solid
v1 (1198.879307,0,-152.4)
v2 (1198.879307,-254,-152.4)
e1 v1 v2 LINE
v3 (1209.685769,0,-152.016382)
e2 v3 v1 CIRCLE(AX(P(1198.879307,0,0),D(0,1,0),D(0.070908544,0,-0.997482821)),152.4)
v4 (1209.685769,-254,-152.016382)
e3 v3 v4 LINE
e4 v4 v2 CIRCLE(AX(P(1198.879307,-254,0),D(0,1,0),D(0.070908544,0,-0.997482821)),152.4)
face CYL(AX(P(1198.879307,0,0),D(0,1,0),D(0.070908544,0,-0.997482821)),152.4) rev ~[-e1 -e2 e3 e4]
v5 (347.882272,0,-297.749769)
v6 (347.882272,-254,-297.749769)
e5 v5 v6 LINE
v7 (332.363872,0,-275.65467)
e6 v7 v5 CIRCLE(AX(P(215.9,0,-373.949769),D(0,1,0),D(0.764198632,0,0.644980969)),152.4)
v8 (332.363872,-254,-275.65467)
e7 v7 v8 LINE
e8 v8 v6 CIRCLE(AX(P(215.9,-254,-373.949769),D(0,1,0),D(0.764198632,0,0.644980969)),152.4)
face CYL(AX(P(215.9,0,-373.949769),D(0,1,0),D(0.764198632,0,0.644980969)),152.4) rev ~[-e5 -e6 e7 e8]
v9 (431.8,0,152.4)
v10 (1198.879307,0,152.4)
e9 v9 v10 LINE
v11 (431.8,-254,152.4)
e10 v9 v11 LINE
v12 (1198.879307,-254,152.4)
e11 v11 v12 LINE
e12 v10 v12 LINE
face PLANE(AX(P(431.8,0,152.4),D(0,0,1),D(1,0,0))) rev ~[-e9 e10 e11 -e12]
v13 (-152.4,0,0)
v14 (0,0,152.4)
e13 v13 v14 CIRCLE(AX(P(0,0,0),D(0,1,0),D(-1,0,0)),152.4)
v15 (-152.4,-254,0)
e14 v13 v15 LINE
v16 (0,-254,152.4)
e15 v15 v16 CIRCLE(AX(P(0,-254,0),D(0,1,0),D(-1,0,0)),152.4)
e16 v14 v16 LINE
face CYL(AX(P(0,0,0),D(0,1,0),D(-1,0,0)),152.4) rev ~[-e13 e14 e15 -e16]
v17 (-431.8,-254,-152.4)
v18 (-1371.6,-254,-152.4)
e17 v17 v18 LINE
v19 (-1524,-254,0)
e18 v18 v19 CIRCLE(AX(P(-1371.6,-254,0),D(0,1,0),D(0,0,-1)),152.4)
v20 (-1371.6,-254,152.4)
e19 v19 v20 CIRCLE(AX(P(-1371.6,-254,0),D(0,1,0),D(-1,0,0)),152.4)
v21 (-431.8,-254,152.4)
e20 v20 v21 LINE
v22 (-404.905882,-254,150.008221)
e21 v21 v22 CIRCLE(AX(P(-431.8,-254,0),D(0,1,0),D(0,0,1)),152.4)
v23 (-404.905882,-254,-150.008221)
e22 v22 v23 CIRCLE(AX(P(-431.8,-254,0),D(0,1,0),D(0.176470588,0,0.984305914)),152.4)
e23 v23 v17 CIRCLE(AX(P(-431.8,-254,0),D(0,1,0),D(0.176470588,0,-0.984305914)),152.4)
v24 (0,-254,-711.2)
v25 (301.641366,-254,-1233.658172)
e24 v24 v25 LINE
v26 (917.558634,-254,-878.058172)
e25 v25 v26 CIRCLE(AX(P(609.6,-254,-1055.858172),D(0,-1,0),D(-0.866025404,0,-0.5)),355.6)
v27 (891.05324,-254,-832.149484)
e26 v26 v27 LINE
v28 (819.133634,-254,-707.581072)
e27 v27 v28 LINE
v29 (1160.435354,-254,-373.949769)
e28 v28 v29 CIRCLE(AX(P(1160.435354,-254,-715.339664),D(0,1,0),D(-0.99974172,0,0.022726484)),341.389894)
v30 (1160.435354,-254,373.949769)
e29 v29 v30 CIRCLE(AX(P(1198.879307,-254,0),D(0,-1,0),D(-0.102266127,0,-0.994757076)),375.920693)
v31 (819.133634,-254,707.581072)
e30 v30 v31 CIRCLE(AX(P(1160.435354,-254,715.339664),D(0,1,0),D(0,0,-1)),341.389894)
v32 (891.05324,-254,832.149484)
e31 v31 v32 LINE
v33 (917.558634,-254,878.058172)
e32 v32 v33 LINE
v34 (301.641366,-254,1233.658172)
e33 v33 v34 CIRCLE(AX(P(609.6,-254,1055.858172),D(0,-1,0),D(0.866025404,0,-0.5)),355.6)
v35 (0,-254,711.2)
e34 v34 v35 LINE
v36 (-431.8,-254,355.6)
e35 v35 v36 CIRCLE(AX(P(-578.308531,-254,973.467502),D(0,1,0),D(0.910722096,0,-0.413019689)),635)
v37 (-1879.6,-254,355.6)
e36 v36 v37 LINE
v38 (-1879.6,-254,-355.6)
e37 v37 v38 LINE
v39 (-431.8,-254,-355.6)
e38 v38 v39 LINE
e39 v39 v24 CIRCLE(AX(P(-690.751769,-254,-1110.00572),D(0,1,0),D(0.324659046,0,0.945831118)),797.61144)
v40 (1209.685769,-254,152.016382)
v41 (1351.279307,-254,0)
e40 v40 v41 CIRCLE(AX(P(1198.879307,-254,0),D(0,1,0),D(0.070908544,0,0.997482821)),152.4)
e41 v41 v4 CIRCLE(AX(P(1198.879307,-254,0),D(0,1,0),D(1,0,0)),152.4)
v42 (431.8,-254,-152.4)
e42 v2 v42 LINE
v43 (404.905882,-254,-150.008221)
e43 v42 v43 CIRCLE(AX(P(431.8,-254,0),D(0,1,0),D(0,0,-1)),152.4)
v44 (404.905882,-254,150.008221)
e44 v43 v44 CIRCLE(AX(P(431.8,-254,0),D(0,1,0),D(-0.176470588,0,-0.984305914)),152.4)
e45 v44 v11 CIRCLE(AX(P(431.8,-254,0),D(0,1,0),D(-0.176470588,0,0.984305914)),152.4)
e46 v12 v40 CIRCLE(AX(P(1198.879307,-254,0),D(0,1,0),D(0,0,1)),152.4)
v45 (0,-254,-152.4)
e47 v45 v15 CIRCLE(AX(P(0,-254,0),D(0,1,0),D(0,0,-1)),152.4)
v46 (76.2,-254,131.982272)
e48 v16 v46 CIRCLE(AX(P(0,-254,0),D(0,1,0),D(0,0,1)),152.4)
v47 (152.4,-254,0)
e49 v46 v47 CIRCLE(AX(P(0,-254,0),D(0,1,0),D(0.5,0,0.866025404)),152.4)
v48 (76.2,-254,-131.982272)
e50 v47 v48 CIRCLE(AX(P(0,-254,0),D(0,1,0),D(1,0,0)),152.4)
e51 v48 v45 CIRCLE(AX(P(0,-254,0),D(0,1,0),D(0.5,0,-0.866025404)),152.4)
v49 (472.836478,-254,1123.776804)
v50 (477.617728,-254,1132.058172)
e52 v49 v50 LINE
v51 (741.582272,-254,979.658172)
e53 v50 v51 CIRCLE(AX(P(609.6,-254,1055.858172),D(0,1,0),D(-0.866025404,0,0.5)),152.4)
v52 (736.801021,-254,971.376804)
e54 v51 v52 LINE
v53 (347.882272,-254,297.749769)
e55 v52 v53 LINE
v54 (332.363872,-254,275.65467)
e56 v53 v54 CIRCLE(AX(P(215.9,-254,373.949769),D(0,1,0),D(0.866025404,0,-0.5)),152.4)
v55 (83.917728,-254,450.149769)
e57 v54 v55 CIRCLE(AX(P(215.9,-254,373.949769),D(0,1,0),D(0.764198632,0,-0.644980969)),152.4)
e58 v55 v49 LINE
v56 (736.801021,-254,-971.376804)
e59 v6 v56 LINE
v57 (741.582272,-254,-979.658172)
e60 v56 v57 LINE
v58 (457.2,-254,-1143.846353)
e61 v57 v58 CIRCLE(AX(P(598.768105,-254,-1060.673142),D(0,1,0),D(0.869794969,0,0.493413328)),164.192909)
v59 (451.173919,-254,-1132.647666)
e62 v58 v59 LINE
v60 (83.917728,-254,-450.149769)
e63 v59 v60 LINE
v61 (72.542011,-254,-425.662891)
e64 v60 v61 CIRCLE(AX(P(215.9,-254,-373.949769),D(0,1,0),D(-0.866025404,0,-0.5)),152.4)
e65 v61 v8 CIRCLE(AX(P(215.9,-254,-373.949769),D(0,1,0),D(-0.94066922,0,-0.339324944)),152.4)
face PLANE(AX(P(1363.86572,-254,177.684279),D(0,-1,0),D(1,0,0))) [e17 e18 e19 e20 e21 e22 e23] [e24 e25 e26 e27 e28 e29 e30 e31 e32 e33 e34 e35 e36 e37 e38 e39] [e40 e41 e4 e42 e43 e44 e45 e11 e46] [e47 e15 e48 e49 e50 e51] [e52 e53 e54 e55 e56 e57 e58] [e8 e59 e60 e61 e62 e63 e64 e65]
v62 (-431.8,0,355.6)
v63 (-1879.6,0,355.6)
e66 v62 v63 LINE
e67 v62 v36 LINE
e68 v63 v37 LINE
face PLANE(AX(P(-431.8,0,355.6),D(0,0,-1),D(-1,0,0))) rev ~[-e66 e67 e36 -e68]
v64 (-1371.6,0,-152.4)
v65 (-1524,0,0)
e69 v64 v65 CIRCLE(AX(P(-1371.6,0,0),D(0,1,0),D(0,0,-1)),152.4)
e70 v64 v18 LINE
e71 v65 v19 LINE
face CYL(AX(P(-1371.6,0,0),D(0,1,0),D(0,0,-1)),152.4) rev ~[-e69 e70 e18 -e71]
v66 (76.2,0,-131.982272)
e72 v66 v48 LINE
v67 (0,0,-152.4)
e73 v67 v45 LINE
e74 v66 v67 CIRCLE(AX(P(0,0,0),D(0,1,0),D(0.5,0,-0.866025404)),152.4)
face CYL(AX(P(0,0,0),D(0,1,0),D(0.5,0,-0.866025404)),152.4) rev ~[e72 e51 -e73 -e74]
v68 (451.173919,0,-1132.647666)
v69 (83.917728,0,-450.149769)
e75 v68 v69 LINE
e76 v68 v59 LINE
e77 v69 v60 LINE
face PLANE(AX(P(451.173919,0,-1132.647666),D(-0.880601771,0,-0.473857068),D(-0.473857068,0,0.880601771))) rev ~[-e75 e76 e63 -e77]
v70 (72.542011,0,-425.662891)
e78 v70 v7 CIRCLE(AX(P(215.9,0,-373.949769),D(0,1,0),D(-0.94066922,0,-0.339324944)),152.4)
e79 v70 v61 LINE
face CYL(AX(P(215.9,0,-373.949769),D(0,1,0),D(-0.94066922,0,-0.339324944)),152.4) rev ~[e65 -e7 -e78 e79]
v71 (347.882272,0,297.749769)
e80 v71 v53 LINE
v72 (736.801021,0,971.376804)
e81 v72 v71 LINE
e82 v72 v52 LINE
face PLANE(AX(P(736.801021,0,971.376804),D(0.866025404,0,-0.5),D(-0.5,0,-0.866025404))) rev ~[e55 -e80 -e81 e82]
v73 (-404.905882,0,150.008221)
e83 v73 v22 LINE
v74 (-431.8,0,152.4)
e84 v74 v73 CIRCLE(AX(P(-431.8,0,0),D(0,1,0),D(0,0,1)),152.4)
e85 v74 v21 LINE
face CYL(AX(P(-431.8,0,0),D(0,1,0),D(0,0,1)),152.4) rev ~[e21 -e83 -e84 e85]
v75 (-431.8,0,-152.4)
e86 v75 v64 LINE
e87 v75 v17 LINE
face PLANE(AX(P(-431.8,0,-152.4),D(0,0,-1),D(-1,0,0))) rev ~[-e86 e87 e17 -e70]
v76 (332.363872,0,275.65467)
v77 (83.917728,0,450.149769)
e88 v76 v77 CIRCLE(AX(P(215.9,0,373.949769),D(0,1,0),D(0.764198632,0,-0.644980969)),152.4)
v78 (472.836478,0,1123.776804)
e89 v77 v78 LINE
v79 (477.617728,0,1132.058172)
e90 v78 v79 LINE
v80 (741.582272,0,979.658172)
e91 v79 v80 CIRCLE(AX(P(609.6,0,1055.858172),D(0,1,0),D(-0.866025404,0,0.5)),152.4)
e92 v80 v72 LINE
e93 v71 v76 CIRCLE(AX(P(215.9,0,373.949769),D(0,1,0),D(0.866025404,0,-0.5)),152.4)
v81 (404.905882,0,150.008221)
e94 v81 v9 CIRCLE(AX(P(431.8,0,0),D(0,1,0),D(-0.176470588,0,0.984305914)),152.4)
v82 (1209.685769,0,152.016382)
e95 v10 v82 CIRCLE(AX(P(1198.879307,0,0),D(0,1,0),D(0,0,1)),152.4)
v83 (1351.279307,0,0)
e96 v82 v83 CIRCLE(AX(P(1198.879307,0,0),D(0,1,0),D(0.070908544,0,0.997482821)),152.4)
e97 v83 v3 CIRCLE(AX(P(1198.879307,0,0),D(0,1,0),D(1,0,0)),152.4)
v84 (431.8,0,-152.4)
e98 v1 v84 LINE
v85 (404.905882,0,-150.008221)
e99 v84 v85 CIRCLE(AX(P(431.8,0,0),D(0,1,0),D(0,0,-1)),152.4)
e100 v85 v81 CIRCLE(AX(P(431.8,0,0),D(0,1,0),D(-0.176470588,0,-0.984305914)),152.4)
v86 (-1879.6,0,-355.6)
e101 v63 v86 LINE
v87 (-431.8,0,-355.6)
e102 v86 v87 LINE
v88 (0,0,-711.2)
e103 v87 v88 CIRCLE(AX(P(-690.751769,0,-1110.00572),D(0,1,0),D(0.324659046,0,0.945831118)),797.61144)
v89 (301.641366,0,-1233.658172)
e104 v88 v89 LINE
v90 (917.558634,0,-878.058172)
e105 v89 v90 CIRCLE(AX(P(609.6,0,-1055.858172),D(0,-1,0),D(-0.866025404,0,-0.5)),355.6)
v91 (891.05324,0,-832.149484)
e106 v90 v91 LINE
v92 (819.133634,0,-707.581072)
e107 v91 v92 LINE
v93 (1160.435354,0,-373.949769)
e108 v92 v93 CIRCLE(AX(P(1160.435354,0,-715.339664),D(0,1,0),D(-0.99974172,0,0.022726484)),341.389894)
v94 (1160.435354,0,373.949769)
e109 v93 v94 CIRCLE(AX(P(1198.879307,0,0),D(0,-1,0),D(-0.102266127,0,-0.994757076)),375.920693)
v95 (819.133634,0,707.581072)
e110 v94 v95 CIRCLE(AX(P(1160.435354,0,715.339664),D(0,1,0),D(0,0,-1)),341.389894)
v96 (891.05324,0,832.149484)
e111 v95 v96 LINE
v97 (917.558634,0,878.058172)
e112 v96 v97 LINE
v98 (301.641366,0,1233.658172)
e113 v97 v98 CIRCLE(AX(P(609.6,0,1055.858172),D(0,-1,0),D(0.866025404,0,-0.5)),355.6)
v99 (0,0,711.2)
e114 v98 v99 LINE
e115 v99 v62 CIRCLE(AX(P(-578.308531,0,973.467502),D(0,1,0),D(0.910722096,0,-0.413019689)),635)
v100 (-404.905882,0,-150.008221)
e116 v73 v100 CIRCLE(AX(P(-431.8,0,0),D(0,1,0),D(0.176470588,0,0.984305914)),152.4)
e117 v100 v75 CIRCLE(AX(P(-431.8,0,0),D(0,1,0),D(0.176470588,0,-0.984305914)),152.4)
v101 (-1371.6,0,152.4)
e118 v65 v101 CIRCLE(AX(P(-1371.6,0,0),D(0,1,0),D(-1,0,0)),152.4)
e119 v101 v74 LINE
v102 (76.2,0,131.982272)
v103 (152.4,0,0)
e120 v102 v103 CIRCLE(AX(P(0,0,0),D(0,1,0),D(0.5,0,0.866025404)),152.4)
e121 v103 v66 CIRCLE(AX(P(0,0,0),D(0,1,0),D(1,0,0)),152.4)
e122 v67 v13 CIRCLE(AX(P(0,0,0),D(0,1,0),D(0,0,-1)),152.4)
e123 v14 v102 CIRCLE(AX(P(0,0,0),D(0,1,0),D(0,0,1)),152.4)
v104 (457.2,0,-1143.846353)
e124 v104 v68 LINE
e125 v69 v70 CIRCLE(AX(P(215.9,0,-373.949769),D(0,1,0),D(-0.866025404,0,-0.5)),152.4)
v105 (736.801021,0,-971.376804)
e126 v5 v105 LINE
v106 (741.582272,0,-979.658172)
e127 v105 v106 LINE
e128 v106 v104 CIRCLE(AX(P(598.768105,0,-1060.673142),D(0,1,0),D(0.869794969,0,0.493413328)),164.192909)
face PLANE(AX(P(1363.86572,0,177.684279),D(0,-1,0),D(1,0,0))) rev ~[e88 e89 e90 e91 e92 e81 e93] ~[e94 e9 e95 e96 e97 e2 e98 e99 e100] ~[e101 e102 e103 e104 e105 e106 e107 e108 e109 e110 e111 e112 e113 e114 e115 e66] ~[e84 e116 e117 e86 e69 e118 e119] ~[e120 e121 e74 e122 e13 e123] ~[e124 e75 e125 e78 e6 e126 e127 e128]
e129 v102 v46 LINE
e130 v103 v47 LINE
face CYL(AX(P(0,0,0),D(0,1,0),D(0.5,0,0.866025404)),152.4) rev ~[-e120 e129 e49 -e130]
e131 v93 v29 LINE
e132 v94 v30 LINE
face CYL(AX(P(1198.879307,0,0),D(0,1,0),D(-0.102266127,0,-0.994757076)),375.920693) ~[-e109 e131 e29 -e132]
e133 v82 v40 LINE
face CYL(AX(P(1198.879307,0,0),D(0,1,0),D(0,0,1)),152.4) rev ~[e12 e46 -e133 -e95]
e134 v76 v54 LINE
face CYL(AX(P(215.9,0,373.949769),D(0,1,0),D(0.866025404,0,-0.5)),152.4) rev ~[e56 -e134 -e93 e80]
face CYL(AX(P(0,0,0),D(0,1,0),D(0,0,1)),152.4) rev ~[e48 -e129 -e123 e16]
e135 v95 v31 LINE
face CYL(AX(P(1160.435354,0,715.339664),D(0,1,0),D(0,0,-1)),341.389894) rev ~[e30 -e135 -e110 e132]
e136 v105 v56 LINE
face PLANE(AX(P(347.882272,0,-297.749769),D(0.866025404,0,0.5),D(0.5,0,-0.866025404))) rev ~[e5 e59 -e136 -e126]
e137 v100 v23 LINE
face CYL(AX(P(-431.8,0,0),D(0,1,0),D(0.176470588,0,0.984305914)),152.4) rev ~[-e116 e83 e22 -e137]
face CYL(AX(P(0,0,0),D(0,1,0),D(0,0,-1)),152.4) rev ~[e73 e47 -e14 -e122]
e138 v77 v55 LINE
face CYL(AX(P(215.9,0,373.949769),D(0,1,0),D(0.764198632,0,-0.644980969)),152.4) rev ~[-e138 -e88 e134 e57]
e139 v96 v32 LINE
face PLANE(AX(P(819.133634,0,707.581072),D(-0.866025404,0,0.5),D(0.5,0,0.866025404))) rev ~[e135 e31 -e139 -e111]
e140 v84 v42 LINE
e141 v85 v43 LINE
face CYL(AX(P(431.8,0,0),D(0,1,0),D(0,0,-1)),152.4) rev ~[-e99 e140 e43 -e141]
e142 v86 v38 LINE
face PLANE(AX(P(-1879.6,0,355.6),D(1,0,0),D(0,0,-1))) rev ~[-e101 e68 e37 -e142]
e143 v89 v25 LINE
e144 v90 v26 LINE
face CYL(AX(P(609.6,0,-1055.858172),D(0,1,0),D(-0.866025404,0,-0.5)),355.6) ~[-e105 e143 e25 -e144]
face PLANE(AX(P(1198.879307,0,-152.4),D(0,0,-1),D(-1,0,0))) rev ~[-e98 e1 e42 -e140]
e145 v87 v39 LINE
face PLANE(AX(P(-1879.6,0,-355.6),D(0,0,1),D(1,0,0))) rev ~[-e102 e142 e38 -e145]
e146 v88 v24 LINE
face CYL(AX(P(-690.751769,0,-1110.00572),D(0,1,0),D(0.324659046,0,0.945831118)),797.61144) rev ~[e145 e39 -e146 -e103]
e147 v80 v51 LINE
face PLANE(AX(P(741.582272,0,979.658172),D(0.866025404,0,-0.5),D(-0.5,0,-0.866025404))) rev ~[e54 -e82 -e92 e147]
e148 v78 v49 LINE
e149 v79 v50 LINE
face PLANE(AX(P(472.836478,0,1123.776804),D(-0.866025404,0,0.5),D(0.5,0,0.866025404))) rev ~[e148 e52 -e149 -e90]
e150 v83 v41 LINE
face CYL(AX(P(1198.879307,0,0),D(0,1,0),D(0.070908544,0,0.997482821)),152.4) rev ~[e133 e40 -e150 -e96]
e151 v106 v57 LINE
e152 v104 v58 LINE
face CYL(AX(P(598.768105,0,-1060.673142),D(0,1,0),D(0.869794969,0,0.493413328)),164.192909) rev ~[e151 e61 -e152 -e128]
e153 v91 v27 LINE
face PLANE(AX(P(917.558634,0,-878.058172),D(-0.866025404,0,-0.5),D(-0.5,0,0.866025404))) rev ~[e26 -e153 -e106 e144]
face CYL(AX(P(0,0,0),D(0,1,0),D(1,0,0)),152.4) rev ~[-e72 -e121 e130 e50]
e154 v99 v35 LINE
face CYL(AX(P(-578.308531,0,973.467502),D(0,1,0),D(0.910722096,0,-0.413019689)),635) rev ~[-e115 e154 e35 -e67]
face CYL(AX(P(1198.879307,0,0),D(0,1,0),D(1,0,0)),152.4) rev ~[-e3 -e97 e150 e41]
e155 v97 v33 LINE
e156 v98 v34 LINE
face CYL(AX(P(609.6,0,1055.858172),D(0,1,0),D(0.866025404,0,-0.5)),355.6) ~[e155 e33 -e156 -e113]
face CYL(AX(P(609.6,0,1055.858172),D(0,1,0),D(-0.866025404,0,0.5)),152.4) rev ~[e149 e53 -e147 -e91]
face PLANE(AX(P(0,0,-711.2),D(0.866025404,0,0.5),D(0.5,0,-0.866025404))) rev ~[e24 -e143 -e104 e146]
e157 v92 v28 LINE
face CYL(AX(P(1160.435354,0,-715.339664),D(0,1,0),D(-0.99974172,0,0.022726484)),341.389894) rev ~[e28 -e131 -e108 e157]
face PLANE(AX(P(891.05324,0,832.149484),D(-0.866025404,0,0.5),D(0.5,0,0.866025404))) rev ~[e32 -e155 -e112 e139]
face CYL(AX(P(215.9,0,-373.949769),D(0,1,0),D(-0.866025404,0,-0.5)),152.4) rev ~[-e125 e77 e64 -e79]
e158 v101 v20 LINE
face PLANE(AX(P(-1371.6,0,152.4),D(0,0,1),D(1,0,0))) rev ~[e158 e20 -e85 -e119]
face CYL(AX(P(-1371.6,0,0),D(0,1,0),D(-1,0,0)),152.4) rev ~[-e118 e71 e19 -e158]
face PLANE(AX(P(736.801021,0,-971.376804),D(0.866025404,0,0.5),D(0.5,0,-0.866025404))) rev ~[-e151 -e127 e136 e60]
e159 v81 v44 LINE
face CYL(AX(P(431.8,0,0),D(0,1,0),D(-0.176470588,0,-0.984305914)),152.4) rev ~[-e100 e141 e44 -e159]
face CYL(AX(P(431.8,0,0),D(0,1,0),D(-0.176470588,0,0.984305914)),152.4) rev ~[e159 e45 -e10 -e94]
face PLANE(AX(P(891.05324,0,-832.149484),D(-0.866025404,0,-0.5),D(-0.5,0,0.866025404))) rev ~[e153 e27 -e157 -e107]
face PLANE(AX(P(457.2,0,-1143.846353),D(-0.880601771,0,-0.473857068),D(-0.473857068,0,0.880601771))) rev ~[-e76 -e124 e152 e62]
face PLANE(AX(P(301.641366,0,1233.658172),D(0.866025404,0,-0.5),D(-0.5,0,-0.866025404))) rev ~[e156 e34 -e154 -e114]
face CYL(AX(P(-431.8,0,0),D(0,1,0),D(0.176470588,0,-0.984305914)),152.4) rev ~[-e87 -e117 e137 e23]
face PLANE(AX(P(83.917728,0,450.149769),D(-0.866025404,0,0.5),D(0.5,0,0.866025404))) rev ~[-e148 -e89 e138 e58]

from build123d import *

# Parameters (mm, degrees)
F1_DEPTH = 254


with BuildPart() as f1:
    # F0 (on Front) → F1 (new body)
    with BuildSketch(Plane.XZ):
        with BuildLine():
            ThreePointArc((1160.4353536497, 373.9497693541), (1190.2445719567, 264.1334869485), (1209.6857689596, 152.0163819353))
            ThreePointArc((1209.6857689596, 152.0163819353), (1310.3976121316, 103.8721694551), (1351.2793068509, 0))
            Line((1351.2793068509, 0), (1574.8, 0))
            ThreePointArc((1574.8, 0), (1450.736895582, 279.0772698309), (1160.4353536497, 373.9497693541))
        make_face()
        with BuildLine():
            ThreePointArc((736.8010212461, 971.3768038669), (816.8986691145, 905.0553598532), (891.0532399748, 832.1494838852))
            Line((891.0532399748, 832.1494838852), (917.5586335857, 878.058172294))
            Line((917.5586335857, 878.058172294), (741.5822715367, 979.658172294))
            Line((741.5822715367, 979.658172294), (736.8010212461, 971.3768038669))
        make_face()
        with BuildLine():
            Line((477.6177284633, 1132.058172294), (301.6413664143, 1233.658172294))
            Line((301.6413664143, 1233.658172294), (275.1359728033, 1187.7494838852))
            ThreePointArc((275.1359728033, 1187.7494838852), (375.3515989068, 1159.9826796975), (472.8364781726, 1123.7768038669))
            Line((472.8364781726, 1123.7768038669), (477.6177284633, 1132.058172294))
        make_face()
        with BuildLine():
            Line((275.1359728033, -1187.7494838852), (301.6413664143, -1233.658172294))
            Line((301.6413664143, -1233.658172294), (457.2, -1143.8463533185))
            Line((457.2, -1143.8463533185), (451.1739193379, -1132.647665653))
            ThreePointArc((451.1739193379, -1132.647665653), (364.1985275213, -1163.5325833647), (275.1359728033, -1187.7494838852))
        make_face()
        with BuildLine():
            Line((917.5586335857, -878.058172294), (891.0532399748, -832.1494838852))
            ThreePointArc((891.0532399748, -832.1494838852), (816.8986691145, -905.0553598532), (736.8010212461, -971.3768038669))
            Line((736.8010212461, -971.3768038669), (741.5822715367, -979.658172294))
            Line((741.5822715367, -979.658172294), (917.5586335857, -878.058172294))
        make_face()
        with BuildLine():
            ThreePointArc((1351.2793068509, 0), (1310.3976121316, -103.8721694551), (1209.6857689596, -152.0163819353))
            ThreePointArc((1209.6857689596, -152.0163819353), (1190.2445719567, -264.1334869485), (1160.4353536497, -373.9497693541))
            ThreePointArc((1160.4353536497, -373.9497693541), (1450.736895582, -279.0772698309), (1574.8, 0))
            Line((1574.8, 0), (1351.2793068509, 0))
        make_face()
        with BuildLine():
            Line((741.5822715367, 979.658172294), (917.5586335857, 878.058172294))
            ThreePointArc((917.5586335857, 878.058172294), (787.4, 1363.8168058797), (301.6413664143, 1233.658172294))
            Line((301.6413664143, 1233.658172294), (477.6177284633, 1132.058172294))
            ThreePointArc((477.6177284633, 1132.058172294), (685.8, 1187.8404438307), (741.5822715367, 979.658172294))
        make_face()
        with BuildLine():
            ThreePointArc((301.6413664143, -1233.658172294), (787.4, -1363.8168058797), (917.5586335857, -878.058172294))
            Line((917.5586335857, -878.058172294), (741.5822715367, -979.658172294))
            ThreePointArc((741.5822715367, -979.658172294), (680.8645597623, -1202.8683726303), (457.2, -1143.8463533185))
            Line((457.2, -1143.8463533185), (301.6413664143, -1233.658172294))
        make_face()
        with BuildLine():
            Line((391.876362049, 373.9497693541), (1160.4353536497, 373.9497693541))
            ThreePointArc((1160.4353536497, 373.9497693541), (921.7950857099, 471.2128883299), (819.1336335857, 707.581071559))
            Line((819.1336335857, 707.581071559), (891.0532399748, 832.1494838852))
            ThreePointArc((891.0532399748, 832.1494838852), (816.8986691145, 905.0553598532), (736.8010212461, 971.3768038669))
            Line((736.8010212461, 971.3768038669), (391.876362049, 373.9497693541))
        make_face()
        with BuildLine():
            ThreePointArc((-1209.6374994187, 152.4), (-1192.2502680214, 254.9273198443), (-1166.1892127781, 355.6))
            Line((-1166.1892127781, 355.6), (-1879.6, 355.6))
            Line((-1879.6, 355.6), (-1879.6, 0))
            Line((-1879.6, 0), (-1524, 0))
            ThreePointArc((-1524, 0), (-1479.3630734528, 107.7630734528), (-1371.6, 152.4))
            Line((-1371.6, 152.4), (-1209.6374994187, 152.4))
        make_face()
        with BuildLine():
            Line((-1879.6, -355.6), (-1166.1892127781, -355.6))
            ThreePointArc((-1166.1892127781, -355.6), (-1192.2502680214, -254.9273198443), (-1209.6374994187, -152.4))
            Line((-1209.6374994187, -152.4), (-1371.6, -152.4))
            ThreePointArc((-1371.6, -152.4), (-1479.3630734528, -107.7630734528), (-1524, 0))
            Line((-1524, 0), (-1879.6, 0))
            Line((-1879.6, 0), (-1879.6, -355.6))
        make_face()
        with BuildLine():
            ThreePointArc((0, 431.8), (36.4005750014, 430.2629871829), (72.5420108165, 425.6628908734))
            ThreePointArc((72.5420108165, 425.6628908734), (77.6865180317, 438.1587516089), (83.9177284633, 450.1497693541))
            Line((83.9177284633, 450.1497693541), (472.8364781726, 1123.7768038669))
            ThreePointArc((472.8364781726, 1123.7768038669), (375.3515989068, 1159.9826796975), (275.1359728033, 1187.7494838852))
            Line((275.1359728033, 1187.7494838852), (0, 711.2))
            Line((0, 711.2), (0, 431.8))
        make_face()
        with BuildLine():
            ThreePointArc((-404.9058823529, 150.008221228), (-246.655316255, 354.4183897079), (0, 431.8))
            Line((0, 431.8), (0, 711.2))
            ThreePointArc((0, 711.2), (-174.6344256589, 483.2918025858), (-431.8, 355.6))
            Line((-431.8, 355.6), (-1166.1892127781, 355.6))
            ThreePointArc((-1166.1892127781, 355.6), (-1192.2502680214, 254.9273198443), (-1209.6374994187, 152.4))
            Line((-1209.6374994187, 152.4), (-431.8, 152.4))
            ThreePointArc((-431.8, 152.4), (-418.2998687996, 151.8008776575), (-404.9058823529, 150.008221228))
        make_face()
        with BuildLine():
            Line((0, -711.2), (0, -431.8))
            ThreePointArc((0, -431.8), (-246.655316255, -354.4183897079), (-404.9058823529, -150.008221228))
            ThreePointArc((-404.9058823529, -150.008221228), (-418.2998687996, -151.8008776575), (-431.8, -152.4))
            Line((-431.8, -152.4), (-1209.6374994187, -152.4))
            ThreePointArc((-1209.6374994187, -152.4), (-1192.2502680214, -254.9273198443), (-1166.1892127781, -355.6))
            Line((-1166.1892127781, -355.6), (-431.8, -355.6))
            ThreePointArc((-431.8, -355.6), (-183.7043920276, -494.3053331764), (0, -711.2))
        make_face()
        with BuildLine():
            ThreePointArc((83.9177284633, -450.1497693541), (77.6865180317, -438.1587516089), (72.5420108165, -425.6628908734))
            ThreePointArc((72.5420108165, -425.6628908734), (36.4005750014, -430.2629871829), (0, -431.8))
            Line((0, -431.8), (0, -711.2))
            Line((0, -711.2), (275.1359728033, -1187.7494838852))
            ThreePointArc((275.1359728033, -1187.7494838852), (364.1985275213, -1163.5325833647), (451.1739193379, -1132.647665653))
            Line((451.1739193379, -1132.647665653), (83.9177284633, -450.1497693541))
        make_face()
        with BuildLine():
            ThreePointArc((1198.8793068509, 152.4), (1204.285941343, 152.3040652887), (1209.6857689596, 152.0163819353))
            ThreePointArc((1209.6857689596, 152.0163819353), (1190.2445719567, 264.1334869485), (1160.4353536497, 373.9497693541))
            Line((1160.4353536497, 373.9497693541), (391.876362049, 373.9497693541))
            Line((391.876362049, 373.9497693541), (347.8822715367, 297.7497693541))
            ThreePointArc((347.8822715367, 297.7497693541), (340.6133507679, 286.3578739515), (332.3638715364, 275.6546696454))
            ThreePointArc((332.3638715364, 275.6546696454), (373.9497693541, 215.9), (404.9058823529, 150.008221228))
            ThreePointArc((404.9058823529, 150.008221228), (418.2998687996, 151.8008776575), (431.8, 152.4))
            Line((431.8, 152.4), (1198.8793068509, 152.4))
        make_face()
        with BuildLine():
            ThreePointArc((1160.4353536497, -373.9497693541), (1190.2445719567, -264.1334869485), (1209.6857689596, -152.0163819353))
            ThreePointArc((1209.6857689596, -152.0163819353), (1204.285941343, -152.3040652887), (1198.8793068509, -152.4))
            Line((1198.8793068509, -152.4), (431.8, -152.4))
            ThreePointArc((431.8, -152.4), (418.2998687996, -151.8008776575), (404.9058823529, -150.008221228))
            ThreePointArc((404.9058823529, -150.008221228), (373.9497693541, -215.9), (332.3638715364, -275.6546696454))
            ThreePointArc((332.3638715364, -275.6546696454), (340.6133507679, -286.3578739515), (347.8822715367, -297.7497693541))
            Line((347.8822715367, -297.7497693541), (391.876362049, -373.9497693541))
            Line((391.876362049, -373.9497693541), (1160.4353536497, -373.9497693541))
        make_face()
        with BuildLine():
            ThreePointArc((-404.9058823529, -150.008221228), (-246.655316255, -354.4183897079), (0, -431.8))
            Line((0, -431.8), (0, -152.4))
            ThreePointArc((0, -152.4), (-107.7630734528, -107.7630734528), (-152.4, 0))
            Line((-152.4, 0), (-279.4, 0))
            ThreePointArc((-279.4, 0), (-314.9145356997, -97.793395663), (-404.9058823529, -150.008221228))
        make_face()
        with BuildLine():
            Line((0, 152.4), (0, 431.8))
            ThreePointArc((0, 431.8), (-246.655316255, 354.4183897079), (-404.9058823529, 150.008221228))
            ThreePointArc((-404.9058823529, 150.008221228), (-314.9145356997, 97.793395663), (-279.4, 0))
            Line((-279.4, 0), (-152.4, 0))
            ThreePointArc((-152.4, 0), (-107.7630734528, 107.7630734528), (0, 152.4))
        make_face()
        with BuildLine():
            ThreePointArc((279.4, 0), (314.9145356997, 97.793395663), (404.9058823529, 150.008221228))
            ThreePointArc((404.9058823529, 150.008221228), (373.9497693541, 215.9), (332.3638715364, 275.6546696454))
            ThreePointArc((332.3638715364, 275.6546696454), (242.1488328163, 223.8272901054), (139.7, 241.9674978174))
            Line((139.7, 241.9674978174), (76.2, 131.9822715367))
            ThreePointArc((76.2, 131.9822715367), (131.9822715367, 76.2), (152.4, 0))
            Line((152.4, 0), (279.4, 0))
        make_face()
        with BuildLine():
            ThreePointArc((139.7, 241.9674978174), (72.7657028834, 321.6206857684), (72.5420108165, 425.6628908734))
            ThreePointArc((72.5420108165, 425.6628908734), (36.4005750014, 430.2629871829), (0, 431.8))
            Line((0, 431.8), (0, 152.4))
            ThreePointArc((0, 152.4), (39.4440224736, 147.2070959265), (76.2, 131.9822715367))
            Line((76.2, 131.9822715367), (139.7, 241.9674978174))
        make_face()
        with BuildLine():
            ThreePointArc((332.3638715364, -275.6546696454), (373.9497693541, -215.9), (404.9058823529, -150.008221228))
            ThreePointArc((404.9058823529, -150.008221228), (314.9145356997, -97.793395663), (279.4, 0))
            Line((279.4, 0), (152.4, 0))
            ThreePointArc((152.4, 0), (131.9822715367, -76.2), (76.2, -131.9822715367))
            Line((76.2, -131.9822715367), (139.7, -241.9674978174))
            ThreePointArc((139.7, -241.9674978174), (242.1488328163, -223.8272901054), (332.3638715364, -275.6546696454))
        make_face()
        with BuildLine():
            ThreePointArc((0, -431.8), (36.4005750014, -430.2629871829), (72.5420108165, -425.6628908734))
            ThreePointArc((72.5420108165, -425.6628908734), (72.7657028834, -321.6206857684), (139.7, -241.9674978174))
            Line((139.7, -241.9674978174), (76.2, -131.9822715367))
            ThreePointArc((76.2, -131.9822715367), (39.4440224736, -147.2070959265), (0, -152.4))
            Line((0, -152.4), (0, -431.8))
        make_face()
        with BuildLine():
            ThreePointArc((819.1336335857, -707.581071559), (921.7950857099, -471.2128883299), (1160.4353536497, -373.9497693541))
            Line((1160.4353536497, -373.9497693541), (391.876362049, -373.9497693541))
            Line((391.876362049, -373.9497693541), (736.8010212461, -971.3768038669))
            ThreePointArc((736.8010212461, -971.3768038669), (816.8986691145, -905.0553598532), (891.0532399748, -832.1494838852))
            Line((891.0532399748, -832.1494838852), (819.1336335857, -707.581071559))
        make_face()
    extrude(amount=F1_DEPTH)


solid = f1.part
